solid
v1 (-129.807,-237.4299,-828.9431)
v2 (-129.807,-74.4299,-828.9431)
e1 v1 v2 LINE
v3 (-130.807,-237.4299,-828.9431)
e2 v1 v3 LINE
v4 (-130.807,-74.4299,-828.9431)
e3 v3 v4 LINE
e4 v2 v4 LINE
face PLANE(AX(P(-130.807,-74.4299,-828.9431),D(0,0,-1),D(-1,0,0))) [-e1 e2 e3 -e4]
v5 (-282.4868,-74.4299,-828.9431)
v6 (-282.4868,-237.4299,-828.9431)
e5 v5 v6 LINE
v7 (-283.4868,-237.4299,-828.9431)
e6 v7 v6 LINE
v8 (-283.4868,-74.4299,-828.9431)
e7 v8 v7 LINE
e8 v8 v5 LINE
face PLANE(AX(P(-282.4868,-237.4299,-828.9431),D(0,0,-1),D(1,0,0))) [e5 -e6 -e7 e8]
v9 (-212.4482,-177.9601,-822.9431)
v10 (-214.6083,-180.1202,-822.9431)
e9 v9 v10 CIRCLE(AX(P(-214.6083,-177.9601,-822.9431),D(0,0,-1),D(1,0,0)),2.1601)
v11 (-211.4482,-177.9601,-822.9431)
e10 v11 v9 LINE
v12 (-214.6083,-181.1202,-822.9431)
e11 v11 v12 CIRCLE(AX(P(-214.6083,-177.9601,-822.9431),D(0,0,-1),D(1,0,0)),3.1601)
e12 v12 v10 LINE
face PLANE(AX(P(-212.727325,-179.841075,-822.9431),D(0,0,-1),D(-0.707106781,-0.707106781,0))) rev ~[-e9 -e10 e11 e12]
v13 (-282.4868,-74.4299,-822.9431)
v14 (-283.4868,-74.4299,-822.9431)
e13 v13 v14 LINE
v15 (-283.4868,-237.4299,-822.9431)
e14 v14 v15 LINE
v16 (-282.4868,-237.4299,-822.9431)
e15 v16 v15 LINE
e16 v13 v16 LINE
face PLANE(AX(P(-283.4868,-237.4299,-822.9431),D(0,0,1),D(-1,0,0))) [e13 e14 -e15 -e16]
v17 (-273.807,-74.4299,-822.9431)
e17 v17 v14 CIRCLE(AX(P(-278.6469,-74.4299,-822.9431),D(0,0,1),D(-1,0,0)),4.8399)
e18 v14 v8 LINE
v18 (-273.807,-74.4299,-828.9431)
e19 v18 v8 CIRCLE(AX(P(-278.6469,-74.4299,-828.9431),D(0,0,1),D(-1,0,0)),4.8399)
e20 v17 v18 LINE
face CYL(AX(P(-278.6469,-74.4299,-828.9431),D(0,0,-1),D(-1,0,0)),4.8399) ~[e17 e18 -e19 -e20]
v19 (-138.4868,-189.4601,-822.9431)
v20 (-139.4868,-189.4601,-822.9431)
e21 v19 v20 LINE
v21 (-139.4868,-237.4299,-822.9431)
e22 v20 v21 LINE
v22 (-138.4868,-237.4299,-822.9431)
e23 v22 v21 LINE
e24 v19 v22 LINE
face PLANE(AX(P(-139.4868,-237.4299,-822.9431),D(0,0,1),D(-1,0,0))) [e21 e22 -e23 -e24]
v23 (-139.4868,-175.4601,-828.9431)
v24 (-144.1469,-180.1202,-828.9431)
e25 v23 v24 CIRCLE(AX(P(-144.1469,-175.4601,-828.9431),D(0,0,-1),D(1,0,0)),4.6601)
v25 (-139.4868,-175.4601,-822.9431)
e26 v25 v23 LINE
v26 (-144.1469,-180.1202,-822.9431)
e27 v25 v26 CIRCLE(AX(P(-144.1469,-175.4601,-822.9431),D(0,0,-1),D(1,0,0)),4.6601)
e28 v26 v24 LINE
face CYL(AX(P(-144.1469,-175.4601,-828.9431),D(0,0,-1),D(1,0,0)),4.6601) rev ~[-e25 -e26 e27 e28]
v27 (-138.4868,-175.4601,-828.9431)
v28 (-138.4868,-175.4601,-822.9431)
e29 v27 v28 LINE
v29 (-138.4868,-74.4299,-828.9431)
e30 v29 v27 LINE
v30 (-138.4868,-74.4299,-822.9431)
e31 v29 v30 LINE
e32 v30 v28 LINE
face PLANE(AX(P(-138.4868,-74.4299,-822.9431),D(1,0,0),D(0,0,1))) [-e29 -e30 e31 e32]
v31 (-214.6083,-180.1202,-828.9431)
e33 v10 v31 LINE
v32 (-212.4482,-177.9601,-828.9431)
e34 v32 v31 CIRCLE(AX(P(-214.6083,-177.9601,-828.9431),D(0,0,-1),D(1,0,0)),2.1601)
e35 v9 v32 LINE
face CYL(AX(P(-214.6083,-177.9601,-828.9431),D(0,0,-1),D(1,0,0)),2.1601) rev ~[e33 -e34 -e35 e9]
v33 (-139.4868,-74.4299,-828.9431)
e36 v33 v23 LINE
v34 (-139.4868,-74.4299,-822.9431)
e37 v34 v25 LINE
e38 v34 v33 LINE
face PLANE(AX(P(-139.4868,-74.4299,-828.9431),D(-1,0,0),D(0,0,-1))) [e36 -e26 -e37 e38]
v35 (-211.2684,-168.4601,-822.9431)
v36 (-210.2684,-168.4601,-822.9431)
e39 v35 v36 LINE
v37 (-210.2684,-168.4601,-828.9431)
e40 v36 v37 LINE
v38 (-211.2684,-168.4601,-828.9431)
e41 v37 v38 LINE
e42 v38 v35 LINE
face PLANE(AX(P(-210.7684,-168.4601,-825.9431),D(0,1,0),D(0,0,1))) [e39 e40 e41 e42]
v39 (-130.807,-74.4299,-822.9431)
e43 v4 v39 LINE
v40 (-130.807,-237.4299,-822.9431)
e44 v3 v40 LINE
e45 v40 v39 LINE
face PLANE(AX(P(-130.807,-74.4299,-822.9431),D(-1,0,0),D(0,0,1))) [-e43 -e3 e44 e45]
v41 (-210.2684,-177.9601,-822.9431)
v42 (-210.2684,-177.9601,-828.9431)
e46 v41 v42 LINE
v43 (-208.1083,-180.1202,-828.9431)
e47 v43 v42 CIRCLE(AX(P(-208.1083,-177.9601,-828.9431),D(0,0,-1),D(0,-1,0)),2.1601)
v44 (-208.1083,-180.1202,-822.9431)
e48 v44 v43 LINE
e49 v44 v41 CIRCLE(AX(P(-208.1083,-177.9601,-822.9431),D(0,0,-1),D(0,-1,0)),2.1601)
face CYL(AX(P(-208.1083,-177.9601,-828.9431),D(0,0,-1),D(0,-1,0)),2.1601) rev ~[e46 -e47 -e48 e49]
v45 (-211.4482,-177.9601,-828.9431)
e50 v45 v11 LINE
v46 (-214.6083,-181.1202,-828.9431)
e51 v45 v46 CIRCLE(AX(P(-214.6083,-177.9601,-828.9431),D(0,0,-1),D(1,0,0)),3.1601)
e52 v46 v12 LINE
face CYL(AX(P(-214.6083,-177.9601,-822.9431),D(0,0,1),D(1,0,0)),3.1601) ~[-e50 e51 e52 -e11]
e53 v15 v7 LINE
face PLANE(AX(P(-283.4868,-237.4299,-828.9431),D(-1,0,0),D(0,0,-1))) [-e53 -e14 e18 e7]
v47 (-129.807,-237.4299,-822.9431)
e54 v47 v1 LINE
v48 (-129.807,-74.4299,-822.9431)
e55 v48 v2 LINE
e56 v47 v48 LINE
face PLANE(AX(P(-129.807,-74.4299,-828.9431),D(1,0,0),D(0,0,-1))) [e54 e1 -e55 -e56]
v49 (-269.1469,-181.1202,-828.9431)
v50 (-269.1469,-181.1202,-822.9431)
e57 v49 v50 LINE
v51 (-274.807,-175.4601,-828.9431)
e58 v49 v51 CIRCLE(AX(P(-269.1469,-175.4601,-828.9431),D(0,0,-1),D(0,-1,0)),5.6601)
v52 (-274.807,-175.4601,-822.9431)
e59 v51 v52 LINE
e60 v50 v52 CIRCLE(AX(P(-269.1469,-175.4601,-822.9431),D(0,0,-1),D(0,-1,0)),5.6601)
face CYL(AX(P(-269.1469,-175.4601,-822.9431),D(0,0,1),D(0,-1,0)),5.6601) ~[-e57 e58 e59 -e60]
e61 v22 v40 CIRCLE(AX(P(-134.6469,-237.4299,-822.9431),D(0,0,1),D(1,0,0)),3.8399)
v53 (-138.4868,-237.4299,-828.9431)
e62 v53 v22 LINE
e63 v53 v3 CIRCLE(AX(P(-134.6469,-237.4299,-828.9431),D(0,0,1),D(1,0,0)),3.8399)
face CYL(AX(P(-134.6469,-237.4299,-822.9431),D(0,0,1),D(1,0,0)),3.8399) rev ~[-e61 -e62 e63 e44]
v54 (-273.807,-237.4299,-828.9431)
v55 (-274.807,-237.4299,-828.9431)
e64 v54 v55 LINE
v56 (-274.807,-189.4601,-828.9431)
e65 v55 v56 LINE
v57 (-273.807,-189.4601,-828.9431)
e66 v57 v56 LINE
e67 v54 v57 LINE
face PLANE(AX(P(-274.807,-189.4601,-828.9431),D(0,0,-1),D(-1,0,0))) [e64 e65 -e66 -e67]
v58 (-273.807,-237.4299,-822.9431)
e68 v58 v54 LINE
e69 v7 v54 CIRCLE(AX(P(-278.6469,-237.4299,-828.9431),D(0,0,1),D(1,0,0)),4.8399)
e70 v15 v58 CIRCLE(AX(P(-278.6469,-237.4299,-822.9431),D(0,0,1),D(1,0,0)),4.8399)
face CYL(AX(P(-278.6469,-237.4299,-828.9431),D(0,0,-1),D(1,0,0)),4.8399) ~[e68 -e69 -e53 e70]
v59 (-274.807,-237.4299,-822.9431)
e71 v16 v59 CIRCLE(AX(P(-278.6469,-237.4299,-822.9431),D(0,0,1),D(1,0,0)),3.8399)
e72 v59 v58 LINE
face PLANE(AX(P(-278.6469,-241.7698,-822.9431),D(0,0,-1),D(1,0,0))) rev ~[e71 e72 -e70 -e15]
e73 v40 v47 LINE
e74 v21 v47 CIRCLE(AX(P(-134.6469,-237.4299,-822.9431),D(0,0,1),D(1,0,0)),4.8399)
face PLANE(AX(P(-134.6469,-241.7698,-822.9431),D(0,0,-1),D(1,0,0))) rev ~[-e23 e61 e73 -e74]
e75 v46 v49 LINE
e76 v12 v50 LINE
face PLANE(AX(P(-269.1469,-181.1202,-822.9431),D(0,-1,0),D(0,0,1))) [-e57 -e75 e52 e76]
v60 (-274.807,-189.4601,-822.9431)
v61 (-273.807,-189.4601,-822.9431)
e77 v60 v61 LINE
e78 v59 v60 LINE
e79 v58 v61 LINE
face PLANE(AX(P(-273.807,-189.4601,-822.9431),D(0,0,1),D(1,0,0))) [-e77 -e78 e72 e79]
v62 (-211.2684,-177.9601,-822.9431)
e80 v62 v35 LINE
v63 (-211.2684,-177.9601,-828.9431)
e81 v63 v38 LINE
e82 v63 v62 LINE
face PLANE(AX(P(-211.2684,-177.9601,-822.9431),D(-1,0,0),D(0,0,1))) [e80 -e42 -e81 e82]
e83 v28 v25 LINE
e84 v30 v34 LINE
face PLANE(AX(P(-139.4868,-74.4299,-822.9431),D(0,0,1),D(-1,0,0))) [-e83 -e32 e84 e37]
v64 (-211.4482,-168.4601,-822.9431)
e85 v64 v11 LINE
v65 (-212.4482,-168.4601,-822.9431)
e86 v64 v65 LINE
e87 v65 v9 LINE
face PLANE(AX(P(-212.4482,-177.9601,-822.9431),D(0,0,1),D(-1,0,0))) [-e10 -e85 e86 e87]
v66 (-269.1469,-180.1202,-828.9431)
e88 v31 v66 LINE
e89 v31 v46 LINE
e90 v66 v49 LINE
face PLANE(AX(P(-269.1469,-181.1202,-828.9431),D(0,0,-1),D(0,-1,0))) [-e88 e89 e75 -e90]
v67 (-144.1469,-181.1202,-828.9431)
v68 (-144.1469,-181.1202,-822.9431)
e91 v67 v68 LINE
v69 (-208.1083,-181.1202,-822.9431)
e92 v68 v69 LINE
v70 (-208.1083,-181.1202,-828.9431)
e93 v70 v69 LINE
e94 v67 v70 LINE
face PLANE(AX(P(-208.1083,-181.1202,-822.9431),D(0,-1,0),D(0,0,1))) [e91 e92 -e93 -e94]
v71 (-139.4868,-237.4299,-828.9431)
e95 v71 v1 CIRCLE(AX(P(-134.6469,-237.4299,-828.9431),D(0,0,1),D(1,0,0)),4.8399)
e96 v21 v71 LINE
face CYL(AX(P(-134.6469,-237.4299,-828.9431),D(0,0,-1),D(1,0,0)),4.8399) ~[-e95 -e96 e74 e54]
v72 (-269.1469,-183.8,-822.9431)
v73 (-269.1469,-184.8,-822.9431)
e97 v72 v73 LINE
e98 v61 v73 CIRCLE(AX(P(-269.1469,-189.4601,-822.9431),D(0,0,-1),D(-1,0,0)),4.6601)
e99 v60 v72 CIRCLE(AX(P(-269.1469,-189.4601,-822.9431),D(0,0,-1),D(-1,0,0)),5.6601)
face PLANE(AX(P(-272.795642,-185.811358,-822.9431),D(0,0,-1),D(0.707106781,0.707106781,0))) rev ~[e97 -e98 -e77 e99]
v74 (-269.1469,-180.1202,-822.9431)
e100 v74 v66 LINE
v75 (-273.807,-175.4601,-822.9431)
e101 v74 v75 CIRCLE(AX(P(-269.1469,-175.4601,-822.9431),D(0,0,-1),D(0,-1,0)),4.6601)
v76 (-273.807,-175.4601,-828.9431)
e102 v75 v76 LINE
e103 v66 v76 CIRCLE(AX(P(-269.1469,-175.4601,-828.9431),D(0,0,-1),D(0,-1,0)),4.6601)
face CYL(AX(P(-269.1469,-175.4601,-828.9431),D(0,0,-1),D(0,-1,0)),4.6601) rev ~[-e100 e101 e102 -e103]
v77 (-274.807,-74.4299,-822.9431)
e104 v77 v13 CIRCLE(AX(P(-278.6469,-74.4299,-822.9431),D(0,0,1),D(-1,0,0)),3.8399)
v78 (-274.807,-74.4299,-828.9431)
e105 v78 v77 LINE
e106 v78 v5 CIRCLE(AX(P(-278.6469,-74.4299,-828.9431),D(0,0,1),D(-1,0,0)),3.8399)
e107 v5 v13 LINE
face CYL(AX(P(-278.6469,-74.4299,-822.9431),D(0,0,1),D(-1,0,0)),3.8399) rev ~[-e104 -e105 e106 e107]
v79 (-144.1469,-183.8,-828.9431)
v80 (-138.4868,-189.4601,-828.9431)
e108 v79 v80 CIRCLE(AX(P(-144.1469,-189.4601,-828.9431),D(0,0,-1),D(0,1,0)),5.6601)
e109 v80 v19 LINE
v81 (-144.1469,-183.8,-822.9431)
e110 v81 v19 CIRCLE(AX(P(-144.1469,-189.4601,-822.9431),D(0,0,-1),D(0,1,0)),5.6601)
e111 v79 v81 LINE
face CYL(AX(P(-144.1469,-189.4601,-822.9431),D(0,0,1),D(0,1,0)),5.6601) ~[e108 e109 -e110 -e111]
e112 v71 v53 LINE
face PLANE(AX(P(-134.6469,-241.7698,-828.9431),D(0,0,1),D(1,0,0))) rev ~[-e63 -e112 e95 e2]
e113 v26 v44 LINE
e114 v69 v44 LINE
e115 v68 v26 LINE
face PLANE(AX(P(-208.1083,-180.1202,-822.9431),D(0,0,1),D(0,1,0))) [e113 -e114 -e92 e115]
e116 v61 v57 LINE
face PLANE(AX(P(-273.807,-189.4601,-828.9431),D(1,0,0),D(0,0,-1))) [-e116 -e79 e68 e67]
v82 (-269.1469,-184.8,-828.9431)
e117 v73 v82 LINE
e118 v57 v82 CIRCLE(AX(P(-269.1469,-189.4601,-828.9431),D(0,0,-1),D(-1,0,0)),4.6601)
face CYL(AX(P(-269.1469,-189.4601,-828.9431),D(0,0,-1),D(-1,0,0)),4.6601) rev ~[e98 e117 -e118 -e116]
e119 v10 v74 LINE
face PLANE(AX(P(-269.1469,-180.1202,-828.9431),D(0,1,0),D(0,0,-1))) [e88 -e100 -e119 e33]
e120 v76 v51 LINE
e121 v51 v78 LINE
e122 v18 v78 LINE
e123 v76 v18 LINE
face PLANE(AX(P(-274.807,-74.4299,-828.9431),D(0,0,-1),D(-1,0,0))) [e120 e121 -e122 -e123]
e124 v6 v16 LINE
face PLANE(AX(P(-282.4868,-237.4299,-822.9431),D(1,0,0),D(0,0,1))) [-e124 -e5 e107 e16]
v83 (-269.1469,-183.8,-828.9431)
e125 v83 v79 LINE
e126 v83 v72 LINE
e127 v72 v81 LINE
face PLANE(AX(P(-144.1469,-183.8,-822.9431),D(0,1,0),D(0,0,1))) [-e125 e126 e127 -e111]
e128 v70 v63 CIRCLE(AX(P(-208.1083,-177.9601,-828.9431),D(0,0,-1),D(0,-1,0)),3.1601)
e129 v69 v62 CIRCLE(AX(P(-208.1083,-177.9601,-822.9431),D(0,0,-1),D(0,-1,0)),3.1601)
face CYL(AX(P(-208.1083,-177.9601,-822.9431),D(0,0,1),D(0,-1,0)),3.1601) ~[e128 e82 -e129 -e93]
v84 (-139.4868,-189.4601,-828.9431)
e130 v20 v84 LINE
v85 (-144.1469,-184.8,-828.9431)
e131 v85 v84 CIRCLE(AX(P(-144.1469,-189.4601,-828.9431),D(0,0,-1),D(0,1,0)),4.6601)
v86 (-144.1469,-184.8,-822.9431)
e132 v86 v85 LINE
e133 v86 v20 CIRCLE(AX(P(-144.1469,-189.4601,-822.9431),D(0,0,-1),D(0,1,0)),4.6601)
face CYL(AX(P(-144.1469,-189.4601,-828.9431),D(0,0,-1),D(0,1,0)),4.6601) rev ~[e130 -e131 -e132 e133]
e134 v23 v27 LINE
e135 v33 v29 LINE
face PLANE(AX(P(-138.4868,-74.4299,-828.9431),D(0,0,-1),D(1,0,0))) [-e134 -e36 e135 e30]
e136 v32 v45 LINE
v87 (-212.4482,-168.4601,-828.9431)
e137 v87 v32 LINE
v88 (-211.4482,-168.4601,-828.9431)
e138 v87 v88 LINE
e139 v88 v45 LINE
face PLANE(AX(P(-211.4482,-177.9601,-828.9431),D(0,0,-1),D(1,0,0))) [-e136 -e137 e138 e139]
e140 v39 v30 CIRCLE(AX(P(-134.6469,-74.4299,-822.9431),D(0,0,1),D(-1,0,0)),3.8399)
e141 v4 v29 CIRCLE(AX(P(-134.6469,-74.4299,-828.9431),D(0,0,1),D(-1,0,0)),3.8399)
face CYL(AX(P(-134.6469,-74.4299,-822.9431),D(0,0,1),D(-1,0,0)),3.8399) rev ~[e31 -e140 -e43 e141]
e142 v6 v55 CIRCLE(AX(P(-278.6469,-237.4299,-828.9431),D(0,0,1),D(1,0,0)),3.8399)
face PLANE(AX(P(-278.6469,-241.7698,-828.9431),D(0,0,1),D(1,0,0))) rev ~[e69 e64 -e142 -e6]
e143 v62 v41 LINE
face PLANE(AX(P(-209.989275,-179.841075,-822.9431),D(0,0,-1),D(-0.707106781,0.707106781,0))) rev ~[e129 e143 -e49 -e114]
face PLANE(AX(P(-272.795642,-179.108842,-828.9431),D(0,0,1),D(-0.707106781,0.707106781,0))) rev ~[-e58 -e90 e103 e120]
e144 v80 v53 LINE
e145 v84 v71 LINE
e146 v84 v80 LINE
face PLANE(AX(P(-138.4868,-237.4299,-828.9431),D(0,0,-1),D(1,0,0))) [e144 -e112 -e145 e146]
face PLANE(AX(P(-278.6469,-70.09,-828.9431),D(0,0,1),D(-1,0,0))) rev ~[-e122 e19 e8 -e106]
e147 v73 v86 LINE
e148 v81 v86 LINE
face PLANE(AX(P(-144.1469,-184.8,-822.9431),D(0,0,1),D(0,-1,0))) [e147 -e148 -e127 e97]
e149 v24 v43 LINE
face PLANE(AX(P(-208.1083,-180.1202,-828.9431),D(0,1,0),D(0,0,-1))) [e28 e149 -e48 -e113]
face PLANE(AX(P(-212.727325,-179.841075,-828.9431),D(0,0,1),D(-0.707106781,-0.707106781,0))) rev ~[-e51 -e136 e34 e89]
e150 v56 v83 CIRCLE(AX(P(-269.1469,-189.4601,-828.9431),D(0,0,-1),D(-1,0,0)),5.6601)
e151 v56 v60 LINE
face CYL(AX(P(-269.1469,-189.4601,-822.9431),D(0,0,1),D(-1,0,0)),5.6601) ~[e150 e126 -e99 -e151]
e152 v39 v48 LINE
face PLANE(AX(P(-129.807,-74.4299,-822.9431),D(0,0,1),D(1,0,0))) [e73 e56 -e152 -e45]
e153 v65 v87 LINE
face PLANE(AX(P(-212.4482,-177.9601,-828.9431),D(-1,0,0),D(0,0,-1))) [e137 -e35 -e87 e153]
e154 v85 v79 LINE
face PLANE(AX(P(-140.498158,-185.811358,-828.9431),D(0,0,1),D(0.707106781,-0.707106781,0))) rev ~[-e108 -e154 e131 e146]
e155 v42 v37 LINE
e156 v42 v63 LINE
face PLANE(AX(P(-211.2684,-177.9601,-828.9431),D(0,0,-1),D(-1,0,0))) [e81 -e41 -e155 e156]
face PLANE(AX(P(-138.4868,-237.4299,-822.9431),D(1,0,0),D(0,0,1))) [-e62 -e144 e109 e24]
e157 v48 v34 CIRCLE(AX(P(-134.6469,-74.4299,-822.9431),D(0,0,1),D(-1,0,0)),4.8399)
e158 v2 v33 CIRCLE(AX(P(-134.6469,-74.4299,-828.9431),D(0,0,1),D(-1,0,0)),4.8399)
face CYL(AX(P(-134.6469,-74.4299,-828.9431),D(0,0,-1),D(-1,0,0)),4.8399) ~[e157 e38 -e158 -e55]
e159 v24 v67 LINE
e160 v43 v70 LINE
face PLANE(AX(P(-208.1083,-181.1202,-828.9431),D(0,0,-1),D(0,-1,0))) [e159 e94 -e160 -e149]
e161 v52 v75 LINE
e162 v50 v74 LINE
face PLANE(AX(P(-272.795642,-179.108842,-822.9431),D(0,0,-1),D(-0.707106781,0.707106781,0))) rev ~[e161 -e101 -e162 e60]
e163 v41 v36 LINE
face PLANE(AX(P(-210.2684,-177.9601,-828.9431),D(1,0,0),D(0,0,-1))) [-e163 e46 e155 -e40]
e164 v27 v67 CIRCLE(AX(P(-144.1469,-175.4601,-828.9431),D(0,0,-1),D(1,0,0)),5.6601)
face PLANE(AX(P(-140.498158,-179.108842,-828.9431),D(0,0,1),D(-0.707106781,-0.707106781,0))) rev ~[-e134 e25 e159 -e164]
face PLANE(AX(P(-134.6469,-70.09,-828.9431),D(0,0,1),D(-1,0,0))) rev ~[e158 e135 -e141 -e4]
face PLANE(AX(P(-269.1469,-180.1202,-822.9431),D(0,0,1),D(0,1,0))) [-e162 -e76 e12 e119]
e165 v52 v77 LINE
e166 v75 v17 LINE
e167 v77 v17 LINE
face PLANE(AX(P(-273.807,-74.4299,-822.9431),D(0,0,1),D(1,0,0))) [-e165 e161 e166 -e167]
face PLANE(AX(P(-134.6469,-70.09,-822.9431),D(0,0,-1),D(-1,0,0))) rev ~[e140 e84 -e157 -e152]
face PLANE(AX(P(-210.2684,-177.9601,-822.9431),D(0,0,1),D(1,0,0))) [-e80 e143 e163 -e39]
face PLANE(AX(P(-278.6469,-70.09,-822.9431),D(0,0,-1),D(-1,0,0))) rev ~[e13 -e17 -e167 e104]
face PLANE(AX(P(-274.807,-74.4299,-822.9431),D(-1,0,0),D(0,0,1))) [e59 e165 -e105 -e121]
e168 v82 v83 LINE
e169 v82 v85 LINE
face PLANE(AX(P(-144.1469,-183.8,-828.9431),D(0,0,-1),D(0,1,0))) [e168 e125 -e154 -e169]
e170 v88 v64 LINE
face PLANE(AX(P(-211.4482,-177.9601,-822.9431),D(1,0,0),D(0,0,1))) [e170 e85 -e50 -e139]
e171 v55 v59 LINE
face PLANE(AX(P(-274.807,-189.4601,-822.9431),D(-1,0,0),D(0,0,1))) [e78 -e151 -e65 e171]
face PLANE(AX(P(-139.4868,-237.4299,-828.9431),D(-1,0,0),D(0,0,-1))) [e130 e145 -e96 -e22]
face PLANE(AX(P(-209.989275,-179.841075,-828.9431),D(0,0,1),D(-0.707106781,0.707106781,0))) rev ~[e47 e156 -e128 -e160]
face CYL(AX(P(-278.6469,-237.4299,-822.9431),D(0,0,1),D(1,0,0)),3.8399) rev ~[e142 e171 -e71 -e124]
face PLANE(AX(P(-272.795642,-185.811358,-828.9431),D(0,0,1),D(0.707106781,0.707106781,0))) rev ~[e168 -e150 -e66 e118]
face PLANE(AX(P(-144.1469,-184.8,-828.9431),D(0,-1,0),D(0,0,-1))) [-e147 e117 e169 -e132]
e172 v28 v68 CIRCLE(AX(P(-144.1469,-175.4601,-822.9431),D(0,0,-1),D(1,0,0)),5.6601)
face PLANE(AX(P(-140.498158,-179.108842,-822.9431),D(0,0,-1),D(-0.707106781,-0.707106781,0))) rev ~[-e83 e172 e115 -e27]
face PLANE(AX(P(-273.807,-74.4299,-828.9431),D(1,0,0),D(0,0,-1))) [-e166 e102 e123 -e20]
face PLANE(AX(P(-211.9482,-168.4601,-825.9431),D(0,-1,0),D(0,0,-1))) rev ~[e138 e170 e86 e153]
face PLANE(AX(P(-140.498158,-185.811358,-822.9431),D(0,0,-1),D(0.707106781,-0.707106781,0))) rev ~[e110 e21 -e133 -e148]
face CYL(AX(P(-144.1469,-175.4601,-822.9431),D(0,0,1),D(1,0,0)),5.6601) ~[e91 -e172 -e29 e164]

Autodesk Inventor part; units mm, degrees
ref_plane "YZ Plane" through (0, 0, 0) normal (1, 0, 0) x (0, 1, 0)
ref_plane "Work Plane1" through (-134.6469, -237.4299, -822.9431) normal (0, 0, -1) x (0, -1, 0)
ref_plane "Work Plane3" through (-210.2684, -168.4601, -822.9431) normal (0, 1, 0) x (-1, 0, 0)
sketch "Sketch3" plane through (-210.2684, -168.4601, -822.9431) normal (0, 1, 0) x (-1, 0, 0)
  line L0 (0, 0) -> (1, 0)
  line L1 (1, 0) -> (1, -6)
  line L2 (1, -6) -> (0, -6)
  line L3 (0, -6) -> (0, 0)
  point P0 (-210.2684, 822.9431)
  dimension "d10" = 1
  dimension "d11" = 6
sketch "Sketch1" plane through (-134.6469, -237.4299, -822.9431) normal (0, 0, -1) x (0, -1, 0)
  line L0 (0, 4.84) -> (-47.9698, 4.84)
  line L1 (-52.6298, 9.5) -> (-52.6298, 134.5)
  line L2 (-57.3098, 134.5) -> (-57.3098, 79.9614)
  line L3 (-57.3098, 73.4614) -> (-57.3098, 9.5)
  line L4 (-163, 4.84) -> (-61.9698, 4.84)
  line L5 (-163, -4.84) -> (0, -4.84)
  circle A0 centre (-61.9698, 9.5) radius 4.5 construction
  circle A1 centre (-47.9698, 9.5) radius 4.5 construction
  circle A2 centre (-61.9698, 134.5) radius 4.5
  circle A3 centre (-47.9698, 134.5) radius 4.5
  circle A4 centre (-163, 0) radius 4.5 construction
  circle A5 centre (-163, 144) radius 4.5
  arc A6 (1.9272, 148.2347) -> (2.8669, 147.6644) centre (2.3867, 147.9324) ccw construction
  arc A7 (3.1094, 147.709) -> (2.8669, 147.6644) centre (3.0067, 147.5864) ccw construction
  arc A8 (3.4244, 147.4203) -> (3.1094, 147.709) centre (0, 144) ccw construction
  arc A9 (3.4011, 147.1749) -> (3.4244, 147.4203) centre (3.3112, 147.3073) ccw construction
  arc A10 (3.4011, 147.1749) -> (4.051, 146.2883) centre (3.7099, 146.7197) ccw construction
  arc A11 (4.2921, 146.2368) -> (4.051, 146.2883) centre (4.1503, 146.1628) ccw construction
  arc A12 (4.4727, 145.8495) -> (4.2921, 146.2368) centre (0, 144) ccw construction
  arc A13 (4.3571, 145.6317) -> (4.4727, 145.8495) centre (4.3248, 145.7884) ccw construction
  arc A14 (4.3571, 145.6317) -> (4.6183, 144.5639) centre (4.4683, 145.093) ccw construction
  arc A15 (4.8214, 144.424) -> (4.6183, 144.5639) centre (4.662, 144.41) ccw construction
  arc A16 (4.84, 143.9971) -> (4.8214, 144.424) centre (0, 144) ccw construction
  arc A17 (4.6499, 143.8401) -> (4.84, 143.9971) centre (4.68, 143.9972) ccw construction
  arc A18 (4.6499, 143.8401) -> (4.4826, 142.7536) centre (4.5464, 143.2999) ccw construction
  arc A19 (4.6166, 142.5466) -> (4.4826, 142.7536) centre (4.464, 142.5947) ccw construction
  arc A20 (4.4705, 142.1451) -> (4.6166, 142.5466) centre (0, 144) ccw construction
  arc A21 (4.2347, 142.0728) -> (4.4705, 142.1451) centre (4.3227, 142.2065) ccw construction
  arc A22 (4.2347, 142.0728) -> (3.6644, 141.1331) centre (3.9324, 141.6133) ccw construction
  arc A23 (3.709, 140.8906) -> (3.6644, 141.1331) centre (3.5864, 140.9933) ccw construction
  arc A24 (3.4203, 140.5756) -> (3.709, 140.8906) centre (0, 144) ccw construction
  arc A25 (3.1749, 140.5989) -> (3.4203, 140.5756) centre (3.3073, 140.6888) ccw construction
  arc A26 (3.1749, 140.5989) -> (2.2883, 139.949) centre (2.7197, 140.2901) ccw construction
  arc A27 (2.2368, 139.7079) -> (2.2883, 139.949) centre (2.1628, 139.8497) ccw construction
  arc A28 (1.8495, 139.5273) -> (2.2368, 139.7079) centre (0, 144) ccw construction
  arc A29 (1.6317, 139.6429) -> (1.8495, 139.5273) centre (1.7884, 139.6752) ccw construction
  arc A30 (1.6317, 139.6429) -> (0.5639, 139.3817) centre (1.093, 139.5317) ccw construction
  arc A31 (0.424, 139.1786) -> (0.5639, 139.3817) centre (0.41, 139.338) ccw construction
  arc A32 (-0.0029, 139.16) -> (0.424, 139.1786) centre (0, 144) ccw construction
  arc A33 (-0.1599, 139.3501) -> (-0.0029, 139.16) centre (-0.0028, 139.32) ccw construction
  arc A34 (-0.1599, 139.3501) -> (-1.2464, 139.5174) centre (-0.7001, 139.4536) ccw construction
  arc A35 (-1.4534, 139.3834) -> (-1.2464, 139.5174) centre (-1.4053, 139.536) ccw construction
  arc A36 (-1.8549, 139.5295) -> (-1.4534, 139.3834) centre (0, 144) ccw construction
  arc A37 (-1.9272, 139.7653) -> (-1.8549, 139.5295) centre (-1.7935, 139.6773) ccw construction
  arc A38 (-1.9272, 139.7653) -> (-2.8669, 140.3356) centre (-2.3867, 140.0676) ccw construction
  arc A39 (-3.1094, 140.291) -> (-2.8669, 140.3356) centre (-3.0067, 140.4136) ccw construction
  arc A40 (-3.4244, 140.5797) -> (-3.1094, 140.291) centre (0, 144) ccw construction
  arc A41 (-3.4011, 140.8251) -> (-3.4244, 140.5797) centre (-3.3112, 140.6927) ccw construction
  arc A42 (-3.4011, 140.8251) -> (-4.051, 141.7117) centre (-3.7099, 141.2803) ccw construction
  arc A43 (-4.2921, 141.7632) -> (-4.051, 141.7117) centre (-4.1503, 141.8372) ccw construction
  arc A44 (-4.4727, 142.1505) -> (-4.2921, 141.7632) centre (0, 144) ccw construction
  arc A45 (-4.3571, 142.3683) -> (-4.4727, 142.1505) centre (-4.3248, 142.2116) ccw construction
  arc A46 (-4.3571, 142.3683) -> (-4.6183, 143.4361) centre (-4.4683, 142.907) ccw construction
  arc A47 (-4.8214, 143.576) -> (-4.6183, 143.4361) centre (-4.662, 143.59) ccw construction
  arc A48 (-4.84, 144.0029) -> (-4.8214, 143.576) centre (0, 144) ccw construction
  arc A49 (-4.6499, 144.1599) -> (-4.84, 144.0029) centre (-4.68, 144.0028) ccw construction
  arc A50 (-4.6499, 144.1599) -> (-4.4826, 145.2464) centre (-4.5464, 144.7001) ccw construction
  arc A51 (-4.6166, 145.4534) -> (-4.4826, 145.2464) centre (-4.464, 145.4053) ccw construction
  arc A52 (-4.4705, 145.8549) -> (-4.6166, 145.4534) centre (0, 144) ccw construction
  arc A53 (-4.2347, 145.9272) -> (-4.4705, 145.8549) centre (-4.3227, 145.7935) ccw construction
  arc A54 (-4.2347, 145.9272) -> (-3.6644, 146.8669) centre (-3.9324, 146.3867) ccw construction
  arc A55 (-3.709, 147.1094) -> (-3.6644, 146.8669) centre (-3.5864, 147.0067) ccw construction
  arc A56 (-3.4203, 147.4244) -> (-3.709, 147.1094) centre (0, 144) ccw construction
  arc A57 (-3.1749, 147.4011) -> (-3.4203, 147.4244) centre (-3.3073, 147.3112) ccw construction
  arc A58 (-3.1749, 147.4011) -> (-2.2883, 148.051) centre (-2.7197, 147.7099) ccw construction
  arc A59 (-2.2368, 148.2921) -> (-2.2883, 148.051) centre (-2.1628, 148.1503) ccw construction
  arc A60 (-1.8495, 148.4727) -> (-2.2368, 148.2921) centre (0, 144) ccw construction
  arc A61 (-1.6317, 148.3571) -> (-1.8495, 148.4727) centre (-1.7884, 148.3248) ccw construction
  arc A62 (-1.6317, 148.3571) -> (-0.5639, 148.6183) centre (-1.093, 148.4683) ccw construction
  arc A63 (-0.424, 148.8214) -> (-0.5639, 148.6183) centre (-0.41, 148.662) ccw construction
  arc A64 (0.0029, 148.84) -> (-0.424, 148.8214) centre (0, 144) ccw construction
  arc A65 (0.1599, 148.6499) -> (0.0029, 148.84) centre (0.0028, 148.68) ccw construction
  arc A66 (0.1599, 148.6499) -> (1.2464, 148.4826) centre (0.7001, 148.5464) ccw construction
  arc A67 (1.4534, 148.6166) -> (1.2464, 148.4826) centre (1.4053, 148.464) ccw construction
  arc A68 (1.8549, 148.4705) -> (1.4534, 148.6166) centre (0, 144) ccw construction
  arc A69 (1.9272, 148.2347) -> (1.8549, 148.4705) centre (1.7935, 148.3227) ccw construction
  arc A70 (3.6555, -2.8782) -> (2.8782, -3.6555) centre (3.2527, -3.2527) ccw construction
  arc A71 (2.864, -3.9017) -> (2.8782, -3.6555) centre (2.7693, -3.7727) ccw construction
  arc A72 (2.5087, -4.1391) -> (2.864, -3.9017) centre (0, 0) ccw construction
  arc A73 (2.2758, -4.058) -> (2.5087, -4.1391) centre (2.4258, -4.0023) ccw construction
  arc A74 (2.2758, -4.058) -> (1.2602, -4.4787) centre (1.7603, -4.2498) ccw construction
  arc A75 (1.1528, -4.7007) -> (1.2602, -4.4787) centre (1.1147, -4.5453) ccw construction
  arc A76 (0.7338, -4.7841) -> (1.1528, -4.7007) centre (0, 0) ccw construction
  arc A77 (0.5496, -4.6201) -> (0.7338, -4.7841) centre (0.7095, -4.6259) ccw construction
  arc A78 (0.5496, -4.6201) -> (-0.5496, -4.6201) centre (0, -4.6) ccw construction
  arc A79 (-0.7338, -4.7841) -> (-0.5496, -4.6201) centre (-0.7095, -4.6259) ccw construction
  arc A80 (-1.1528, -4.7007) -> (-0.7338, -4.7841) centre (0, 0) ccw construction
  arc A81 (-1.2602, -4.4787) -> (-1.1528, -4.7007) centre (-1.1147, -4.5453) ccw construction
  arc A82 (-1.2602, -4.4787) -> (-2.2758, -4.058) centre (-1.7603, -4.2498) ccw construction
  arc A83 (-2.5087, -4.1391) -> (-2.2758, -4.058) centre (-2.4258, -4.0023) ccw construction
  arc A84 (-2.864, -3.9017) -> (-2.5087, -4.1391) centre (0, 0) ccw construction
  arc A85 (-2.8782, -3.6555) -> (-2.864, -3.9017) centre (-2.7693, -3.7727) ccw construction
  arc A86 (-2.8782, -3.6555) -> (-3.6555, -2.8782) centre (-3.2527, -3.2527) ccw construction
  arc A87 (-3.9017, -2.864) -> (-3.6555, -2.8782) centre (-3.7727, -2.7693) ccw construction
  arc A88 (-4.1391, -2.5087) -> (-3.9017, -2.864) centre (0, 0) ccw construction
  arc A89 (-4.058, -2.2758) -> (-4.1391, -2.5087) centre (-4.0023, -2.4258) ccw construction
  arc A90 (-4.058, -2.2758) -> (-4.4787, -1.2602) centre (-4.2498, -1.7603) ccw construction
  arc A91 (-4.7007, -1.1528) -> (-4.4787, -1.2602) centre (-4.5453, -1.1147) ccw construction
  arc A92 (-4.7841, -0.7338) -> (-4.7007, -1.1528) centre (0, 0) ccw construction
  arc A93 (-4.6201, -0.5496) -> (-4.7841, -0.7338) centre (-4.6259, -0.7095) ccw construction
  arc A94 (-4.6201, -0.5496) -> (-4.6201, 0.5496) centre (-4.6, 0) ccw construction
  arc A95 (-4.7841, 0.7338) -> (-4.6201, 0.5496) centre (-4.6259, 0.7095) ccw construction
  arc A96 (-4.7007, 1.1528) -> (-4.7841, 0.7338) centre (0, 0) ccw construction
  arc A97 (-4.4787, 1.2602) -> (-4.7007, 1.1528) centre (-4.5453, 1.1147) ccw construction
  arc A98 (-4.4787, 1.2602) -> (-4.058, 2.2758) centre (-4.2498, 1.7603) ccw construction
  arc A99 (-4.1391, 2.5087) -> (-4.058, 2.2758) centre (-4.0023, 2.4258) ccw construction
  arc A100 (-3.9017, 2.864) -> (-4.1391, 2.5087) centre (0, 0) ccw construction
  arc A101 (-3.6555, 2.8782) -> (-3.9017, 2.864) centre (-3.7727, 2.7693) ccw construction
  arc A102 (-3.6555, 2.8782) -> (-2.8782, 3.6555) centre (-3.2527, 3.2527) ccw construction
  arc A103 (-2.864, 3.9017) -> (-2.8782, 3.6555) centre (-2.7693, 3.7727) ccw construction
  arc A104 (-2.5087, 4.1391) -> (-2.864, 3.9017) centre (0, 0) ccw construction
  arc A105 (-2.2758, 4.058) -> (-2.5087, 4.1391) centre (-2.4258, 4.0023) ccw construction
  arc A106 (-2.2758, 4.058) -> (-1.2602, 4.4787) centre (-1.7603, 4.2498) ccw construction
  arc A107 (-1.1528, 4.7007) -> (-1.2602, 4.4787) centre (-1.1147, 4.5453) ccw construction
  arc A108 (-0.7338, 4.7841) -> (-1.1528, 4.7007) centre (0, 0) ccw construction
  arc A109 (-0.5496, 4.6201) -> (-0.7338, 4.7841) centre (-0.7095, 4.6259) ccw construction
  arc A110 (-0.5496, 4.6201) -> (0.5496, 4.6201) centre (0, 4.6) ccw construction
  arc A111 (0.7338, 4.7841) -> (0.5496, 4.6201) centre (0.7095, 4.6259) ccw construction
  arc A112 (1.1528, 4.7007) -> (0.7338, 4.7841) centre (0, 0) ccw construction
  arc A113 (1.2602, 4.4787) -> (1.1528, 4.7007) centre (1.1147, 4.5453) ccw construction
  arc A114 (1.2602, 4.4787) -> (2.2758, 4.058) centre (1.7603, 4.2498) ccw construction
  arc A115 (2.5087, 4.1391) -> (2.2758, 4.058) centre (2.4258, 4.0023) ccw construction
  arc A116 (2.864, 3.9017) -> (2.5087, 4.1391) centre (0, 0) ccw construction
  arc A117 (2.8782, 3.6555) -> (2.864, 3.9017) centre (2.7693, 3.7727) ccw construction
  arc A118 (2.8782, 3.6555) -> (3.6555, 2.8782) centre (3.2527, 3.2527) ccw construction
  arc A119 (3.9017, 2.864) -> (3.6555, 2.8782) centre (3.7727, 2.7693) ccw construction
  arc A120 (4.1391, 2.5087) -> (3.9017, 2.864) centre (0, 0) ccw construction
  arc A121 (4.058, 2.2758) -> (4.1391, 2.5087) centre (4.0023, 2.4258) ccw construction
  arc A122 (4.058, 2.2758) -> (4.4787, 1.2602) centre (4.2498, 1.7603) ccw construction
  arc A123 (4.7007, 1.1528) -> (4.4787, 1.2602) centre (4.5453, 1.1147) ccw construction
  arc A124 (4.7841, 0.7338) -> (4.7007, 1.1528) centre (0, 0) ccw construction
  arc A125 (4.6201, 0.5496) -> (4.7841, 0.7338) centre (4.6259, 0.7095) ccw construction
  arc A126 (4.6201, 0.5496) -> (4.6201, -0.5496) centre (4.6, 0) ccw construction
  arc A127 (4.7841, -0.7338) -> (4.6201, -0.5496) centre (4.6259, -0.7095) ccw construction
  arc A128 (4.7007, -1.1528) -> (4.7841, -0.7338) centre (0, 0) ccw construction
  arc A129 (4.4787, -1.2602) -> (4.7007, -1.1528) centre (4.5453, -1.1147) ccw construction
  arc A130 (4.4787, -1.2602) -> (4.058, -2.2758) centre (4.2498, -1.7603) ccw construction
  arc A131 (4.1391, -2.5087) -> (4.058, -2.2758) centre (4.0023, -2.4258) ccw construction
  arc A132 (3.9017, -2.864) -> (4.1391, -2.5087) centre (0, 0) ccw construction
  arc A133 (3.6555, -2.8782) -> (3.9017, -2.864) centre (3.7727, -2.7693) ccw construction
  arc A134 (-47.9698, 139.16) -> (-52.6298, 134.5) centre (-47.9698, 134.5) ccw
  arc A135 (-57.3098, 134.5) -> (-61.9698, 139.16) centre (-61.9698, 134.5) ccw
  arc A136 (-163, 148.84) -> (-163, 139.16) centre (-163, 144) ccw
  line L6 (-163, 139.16) -> (-61.9698, 139.16)
  arc A137 (-52.6298, 9.5) -> (-47.9698, 4.84) centre (-47.9698, 9.5) ccw
  arc A138 (-61.9698, 4.84) -> (-57.3098, 9.5) centre (-61.9698, 9.5) ccw
  arc A139 (-163, 4.84) -> (-163, -4.84) centre (-163, 0) ccw
  line L7 (-57.4698, 82.7114) -> (-51.4698, 82.7114) construction
  line L8 (-57.4698, 79.9614) -> (-57.4698, 82.7114) construction
  arc A140 (-59.4698, 77.9614) -> (-57.4698, 79.9614) centre (-59.4698, 79.9614) ccw construction
  line L9 (-68.9698, 77.9614) -> (-59.4698, 77.9614) construction
  line L10 (-68.9698, 75.4614) -> (-68.9698, 77.9614) construction
  line L11 (-59.4698, 75.4614) -> (-68.9698, 75.4614) construction
  arc A141 (-57.4698, 73.4614) -> (-59.4698, 75.4614) centre (-59.4698, 73.4614) ccw construction
  line L12 (-57.4698, 70.7114) -> (-57.4698, 73.4614) construction
  line L13 (-51.4698, 70.7114) -> (-57.4698, 70.7114) construction
  line L14 (-51.4698, 82.7114) -> (-51.4698, 70.7114) construction
  arc A142 (-57.3098, 73.4614) -> (-59.4698, 75.6214) centre (-59.4698, 73.4614) ccw
  arc A143 (-59.4698, 77.8014) -> (-57.3098, 79.9614) centre (-59.4698, 79.9614) ccw
  line L15 (-59.4698, 75.6214) -> (-68.9698, 75.6214)
  line L16 (-59.4698, 77.8014) -> (-68.9698, 77.8014)
  line L17 (-47.9698, 139.16) -> (0, 139.16)
  line L18 (0, 148.84) -> (-163, 148.84)
  arc A144 (0, 139.16) -> (0, 148.84) centre (0, 144) ccw
  arc A145 (0, -4.84) -> (0, 4.84) centre (0, 0) ccw
  point P0 (-237.4299, -134.6469)
sweep "Sweep3" add profiles "Sketch3" path "Sketch1" path curves L15 A142 L3 A138 L4 A139 L5 A145 L0 A137 L1 A134 L17 A144 L18 A136 L6 A135 L2 A143 L16
properties part number "GT2 Belt"
